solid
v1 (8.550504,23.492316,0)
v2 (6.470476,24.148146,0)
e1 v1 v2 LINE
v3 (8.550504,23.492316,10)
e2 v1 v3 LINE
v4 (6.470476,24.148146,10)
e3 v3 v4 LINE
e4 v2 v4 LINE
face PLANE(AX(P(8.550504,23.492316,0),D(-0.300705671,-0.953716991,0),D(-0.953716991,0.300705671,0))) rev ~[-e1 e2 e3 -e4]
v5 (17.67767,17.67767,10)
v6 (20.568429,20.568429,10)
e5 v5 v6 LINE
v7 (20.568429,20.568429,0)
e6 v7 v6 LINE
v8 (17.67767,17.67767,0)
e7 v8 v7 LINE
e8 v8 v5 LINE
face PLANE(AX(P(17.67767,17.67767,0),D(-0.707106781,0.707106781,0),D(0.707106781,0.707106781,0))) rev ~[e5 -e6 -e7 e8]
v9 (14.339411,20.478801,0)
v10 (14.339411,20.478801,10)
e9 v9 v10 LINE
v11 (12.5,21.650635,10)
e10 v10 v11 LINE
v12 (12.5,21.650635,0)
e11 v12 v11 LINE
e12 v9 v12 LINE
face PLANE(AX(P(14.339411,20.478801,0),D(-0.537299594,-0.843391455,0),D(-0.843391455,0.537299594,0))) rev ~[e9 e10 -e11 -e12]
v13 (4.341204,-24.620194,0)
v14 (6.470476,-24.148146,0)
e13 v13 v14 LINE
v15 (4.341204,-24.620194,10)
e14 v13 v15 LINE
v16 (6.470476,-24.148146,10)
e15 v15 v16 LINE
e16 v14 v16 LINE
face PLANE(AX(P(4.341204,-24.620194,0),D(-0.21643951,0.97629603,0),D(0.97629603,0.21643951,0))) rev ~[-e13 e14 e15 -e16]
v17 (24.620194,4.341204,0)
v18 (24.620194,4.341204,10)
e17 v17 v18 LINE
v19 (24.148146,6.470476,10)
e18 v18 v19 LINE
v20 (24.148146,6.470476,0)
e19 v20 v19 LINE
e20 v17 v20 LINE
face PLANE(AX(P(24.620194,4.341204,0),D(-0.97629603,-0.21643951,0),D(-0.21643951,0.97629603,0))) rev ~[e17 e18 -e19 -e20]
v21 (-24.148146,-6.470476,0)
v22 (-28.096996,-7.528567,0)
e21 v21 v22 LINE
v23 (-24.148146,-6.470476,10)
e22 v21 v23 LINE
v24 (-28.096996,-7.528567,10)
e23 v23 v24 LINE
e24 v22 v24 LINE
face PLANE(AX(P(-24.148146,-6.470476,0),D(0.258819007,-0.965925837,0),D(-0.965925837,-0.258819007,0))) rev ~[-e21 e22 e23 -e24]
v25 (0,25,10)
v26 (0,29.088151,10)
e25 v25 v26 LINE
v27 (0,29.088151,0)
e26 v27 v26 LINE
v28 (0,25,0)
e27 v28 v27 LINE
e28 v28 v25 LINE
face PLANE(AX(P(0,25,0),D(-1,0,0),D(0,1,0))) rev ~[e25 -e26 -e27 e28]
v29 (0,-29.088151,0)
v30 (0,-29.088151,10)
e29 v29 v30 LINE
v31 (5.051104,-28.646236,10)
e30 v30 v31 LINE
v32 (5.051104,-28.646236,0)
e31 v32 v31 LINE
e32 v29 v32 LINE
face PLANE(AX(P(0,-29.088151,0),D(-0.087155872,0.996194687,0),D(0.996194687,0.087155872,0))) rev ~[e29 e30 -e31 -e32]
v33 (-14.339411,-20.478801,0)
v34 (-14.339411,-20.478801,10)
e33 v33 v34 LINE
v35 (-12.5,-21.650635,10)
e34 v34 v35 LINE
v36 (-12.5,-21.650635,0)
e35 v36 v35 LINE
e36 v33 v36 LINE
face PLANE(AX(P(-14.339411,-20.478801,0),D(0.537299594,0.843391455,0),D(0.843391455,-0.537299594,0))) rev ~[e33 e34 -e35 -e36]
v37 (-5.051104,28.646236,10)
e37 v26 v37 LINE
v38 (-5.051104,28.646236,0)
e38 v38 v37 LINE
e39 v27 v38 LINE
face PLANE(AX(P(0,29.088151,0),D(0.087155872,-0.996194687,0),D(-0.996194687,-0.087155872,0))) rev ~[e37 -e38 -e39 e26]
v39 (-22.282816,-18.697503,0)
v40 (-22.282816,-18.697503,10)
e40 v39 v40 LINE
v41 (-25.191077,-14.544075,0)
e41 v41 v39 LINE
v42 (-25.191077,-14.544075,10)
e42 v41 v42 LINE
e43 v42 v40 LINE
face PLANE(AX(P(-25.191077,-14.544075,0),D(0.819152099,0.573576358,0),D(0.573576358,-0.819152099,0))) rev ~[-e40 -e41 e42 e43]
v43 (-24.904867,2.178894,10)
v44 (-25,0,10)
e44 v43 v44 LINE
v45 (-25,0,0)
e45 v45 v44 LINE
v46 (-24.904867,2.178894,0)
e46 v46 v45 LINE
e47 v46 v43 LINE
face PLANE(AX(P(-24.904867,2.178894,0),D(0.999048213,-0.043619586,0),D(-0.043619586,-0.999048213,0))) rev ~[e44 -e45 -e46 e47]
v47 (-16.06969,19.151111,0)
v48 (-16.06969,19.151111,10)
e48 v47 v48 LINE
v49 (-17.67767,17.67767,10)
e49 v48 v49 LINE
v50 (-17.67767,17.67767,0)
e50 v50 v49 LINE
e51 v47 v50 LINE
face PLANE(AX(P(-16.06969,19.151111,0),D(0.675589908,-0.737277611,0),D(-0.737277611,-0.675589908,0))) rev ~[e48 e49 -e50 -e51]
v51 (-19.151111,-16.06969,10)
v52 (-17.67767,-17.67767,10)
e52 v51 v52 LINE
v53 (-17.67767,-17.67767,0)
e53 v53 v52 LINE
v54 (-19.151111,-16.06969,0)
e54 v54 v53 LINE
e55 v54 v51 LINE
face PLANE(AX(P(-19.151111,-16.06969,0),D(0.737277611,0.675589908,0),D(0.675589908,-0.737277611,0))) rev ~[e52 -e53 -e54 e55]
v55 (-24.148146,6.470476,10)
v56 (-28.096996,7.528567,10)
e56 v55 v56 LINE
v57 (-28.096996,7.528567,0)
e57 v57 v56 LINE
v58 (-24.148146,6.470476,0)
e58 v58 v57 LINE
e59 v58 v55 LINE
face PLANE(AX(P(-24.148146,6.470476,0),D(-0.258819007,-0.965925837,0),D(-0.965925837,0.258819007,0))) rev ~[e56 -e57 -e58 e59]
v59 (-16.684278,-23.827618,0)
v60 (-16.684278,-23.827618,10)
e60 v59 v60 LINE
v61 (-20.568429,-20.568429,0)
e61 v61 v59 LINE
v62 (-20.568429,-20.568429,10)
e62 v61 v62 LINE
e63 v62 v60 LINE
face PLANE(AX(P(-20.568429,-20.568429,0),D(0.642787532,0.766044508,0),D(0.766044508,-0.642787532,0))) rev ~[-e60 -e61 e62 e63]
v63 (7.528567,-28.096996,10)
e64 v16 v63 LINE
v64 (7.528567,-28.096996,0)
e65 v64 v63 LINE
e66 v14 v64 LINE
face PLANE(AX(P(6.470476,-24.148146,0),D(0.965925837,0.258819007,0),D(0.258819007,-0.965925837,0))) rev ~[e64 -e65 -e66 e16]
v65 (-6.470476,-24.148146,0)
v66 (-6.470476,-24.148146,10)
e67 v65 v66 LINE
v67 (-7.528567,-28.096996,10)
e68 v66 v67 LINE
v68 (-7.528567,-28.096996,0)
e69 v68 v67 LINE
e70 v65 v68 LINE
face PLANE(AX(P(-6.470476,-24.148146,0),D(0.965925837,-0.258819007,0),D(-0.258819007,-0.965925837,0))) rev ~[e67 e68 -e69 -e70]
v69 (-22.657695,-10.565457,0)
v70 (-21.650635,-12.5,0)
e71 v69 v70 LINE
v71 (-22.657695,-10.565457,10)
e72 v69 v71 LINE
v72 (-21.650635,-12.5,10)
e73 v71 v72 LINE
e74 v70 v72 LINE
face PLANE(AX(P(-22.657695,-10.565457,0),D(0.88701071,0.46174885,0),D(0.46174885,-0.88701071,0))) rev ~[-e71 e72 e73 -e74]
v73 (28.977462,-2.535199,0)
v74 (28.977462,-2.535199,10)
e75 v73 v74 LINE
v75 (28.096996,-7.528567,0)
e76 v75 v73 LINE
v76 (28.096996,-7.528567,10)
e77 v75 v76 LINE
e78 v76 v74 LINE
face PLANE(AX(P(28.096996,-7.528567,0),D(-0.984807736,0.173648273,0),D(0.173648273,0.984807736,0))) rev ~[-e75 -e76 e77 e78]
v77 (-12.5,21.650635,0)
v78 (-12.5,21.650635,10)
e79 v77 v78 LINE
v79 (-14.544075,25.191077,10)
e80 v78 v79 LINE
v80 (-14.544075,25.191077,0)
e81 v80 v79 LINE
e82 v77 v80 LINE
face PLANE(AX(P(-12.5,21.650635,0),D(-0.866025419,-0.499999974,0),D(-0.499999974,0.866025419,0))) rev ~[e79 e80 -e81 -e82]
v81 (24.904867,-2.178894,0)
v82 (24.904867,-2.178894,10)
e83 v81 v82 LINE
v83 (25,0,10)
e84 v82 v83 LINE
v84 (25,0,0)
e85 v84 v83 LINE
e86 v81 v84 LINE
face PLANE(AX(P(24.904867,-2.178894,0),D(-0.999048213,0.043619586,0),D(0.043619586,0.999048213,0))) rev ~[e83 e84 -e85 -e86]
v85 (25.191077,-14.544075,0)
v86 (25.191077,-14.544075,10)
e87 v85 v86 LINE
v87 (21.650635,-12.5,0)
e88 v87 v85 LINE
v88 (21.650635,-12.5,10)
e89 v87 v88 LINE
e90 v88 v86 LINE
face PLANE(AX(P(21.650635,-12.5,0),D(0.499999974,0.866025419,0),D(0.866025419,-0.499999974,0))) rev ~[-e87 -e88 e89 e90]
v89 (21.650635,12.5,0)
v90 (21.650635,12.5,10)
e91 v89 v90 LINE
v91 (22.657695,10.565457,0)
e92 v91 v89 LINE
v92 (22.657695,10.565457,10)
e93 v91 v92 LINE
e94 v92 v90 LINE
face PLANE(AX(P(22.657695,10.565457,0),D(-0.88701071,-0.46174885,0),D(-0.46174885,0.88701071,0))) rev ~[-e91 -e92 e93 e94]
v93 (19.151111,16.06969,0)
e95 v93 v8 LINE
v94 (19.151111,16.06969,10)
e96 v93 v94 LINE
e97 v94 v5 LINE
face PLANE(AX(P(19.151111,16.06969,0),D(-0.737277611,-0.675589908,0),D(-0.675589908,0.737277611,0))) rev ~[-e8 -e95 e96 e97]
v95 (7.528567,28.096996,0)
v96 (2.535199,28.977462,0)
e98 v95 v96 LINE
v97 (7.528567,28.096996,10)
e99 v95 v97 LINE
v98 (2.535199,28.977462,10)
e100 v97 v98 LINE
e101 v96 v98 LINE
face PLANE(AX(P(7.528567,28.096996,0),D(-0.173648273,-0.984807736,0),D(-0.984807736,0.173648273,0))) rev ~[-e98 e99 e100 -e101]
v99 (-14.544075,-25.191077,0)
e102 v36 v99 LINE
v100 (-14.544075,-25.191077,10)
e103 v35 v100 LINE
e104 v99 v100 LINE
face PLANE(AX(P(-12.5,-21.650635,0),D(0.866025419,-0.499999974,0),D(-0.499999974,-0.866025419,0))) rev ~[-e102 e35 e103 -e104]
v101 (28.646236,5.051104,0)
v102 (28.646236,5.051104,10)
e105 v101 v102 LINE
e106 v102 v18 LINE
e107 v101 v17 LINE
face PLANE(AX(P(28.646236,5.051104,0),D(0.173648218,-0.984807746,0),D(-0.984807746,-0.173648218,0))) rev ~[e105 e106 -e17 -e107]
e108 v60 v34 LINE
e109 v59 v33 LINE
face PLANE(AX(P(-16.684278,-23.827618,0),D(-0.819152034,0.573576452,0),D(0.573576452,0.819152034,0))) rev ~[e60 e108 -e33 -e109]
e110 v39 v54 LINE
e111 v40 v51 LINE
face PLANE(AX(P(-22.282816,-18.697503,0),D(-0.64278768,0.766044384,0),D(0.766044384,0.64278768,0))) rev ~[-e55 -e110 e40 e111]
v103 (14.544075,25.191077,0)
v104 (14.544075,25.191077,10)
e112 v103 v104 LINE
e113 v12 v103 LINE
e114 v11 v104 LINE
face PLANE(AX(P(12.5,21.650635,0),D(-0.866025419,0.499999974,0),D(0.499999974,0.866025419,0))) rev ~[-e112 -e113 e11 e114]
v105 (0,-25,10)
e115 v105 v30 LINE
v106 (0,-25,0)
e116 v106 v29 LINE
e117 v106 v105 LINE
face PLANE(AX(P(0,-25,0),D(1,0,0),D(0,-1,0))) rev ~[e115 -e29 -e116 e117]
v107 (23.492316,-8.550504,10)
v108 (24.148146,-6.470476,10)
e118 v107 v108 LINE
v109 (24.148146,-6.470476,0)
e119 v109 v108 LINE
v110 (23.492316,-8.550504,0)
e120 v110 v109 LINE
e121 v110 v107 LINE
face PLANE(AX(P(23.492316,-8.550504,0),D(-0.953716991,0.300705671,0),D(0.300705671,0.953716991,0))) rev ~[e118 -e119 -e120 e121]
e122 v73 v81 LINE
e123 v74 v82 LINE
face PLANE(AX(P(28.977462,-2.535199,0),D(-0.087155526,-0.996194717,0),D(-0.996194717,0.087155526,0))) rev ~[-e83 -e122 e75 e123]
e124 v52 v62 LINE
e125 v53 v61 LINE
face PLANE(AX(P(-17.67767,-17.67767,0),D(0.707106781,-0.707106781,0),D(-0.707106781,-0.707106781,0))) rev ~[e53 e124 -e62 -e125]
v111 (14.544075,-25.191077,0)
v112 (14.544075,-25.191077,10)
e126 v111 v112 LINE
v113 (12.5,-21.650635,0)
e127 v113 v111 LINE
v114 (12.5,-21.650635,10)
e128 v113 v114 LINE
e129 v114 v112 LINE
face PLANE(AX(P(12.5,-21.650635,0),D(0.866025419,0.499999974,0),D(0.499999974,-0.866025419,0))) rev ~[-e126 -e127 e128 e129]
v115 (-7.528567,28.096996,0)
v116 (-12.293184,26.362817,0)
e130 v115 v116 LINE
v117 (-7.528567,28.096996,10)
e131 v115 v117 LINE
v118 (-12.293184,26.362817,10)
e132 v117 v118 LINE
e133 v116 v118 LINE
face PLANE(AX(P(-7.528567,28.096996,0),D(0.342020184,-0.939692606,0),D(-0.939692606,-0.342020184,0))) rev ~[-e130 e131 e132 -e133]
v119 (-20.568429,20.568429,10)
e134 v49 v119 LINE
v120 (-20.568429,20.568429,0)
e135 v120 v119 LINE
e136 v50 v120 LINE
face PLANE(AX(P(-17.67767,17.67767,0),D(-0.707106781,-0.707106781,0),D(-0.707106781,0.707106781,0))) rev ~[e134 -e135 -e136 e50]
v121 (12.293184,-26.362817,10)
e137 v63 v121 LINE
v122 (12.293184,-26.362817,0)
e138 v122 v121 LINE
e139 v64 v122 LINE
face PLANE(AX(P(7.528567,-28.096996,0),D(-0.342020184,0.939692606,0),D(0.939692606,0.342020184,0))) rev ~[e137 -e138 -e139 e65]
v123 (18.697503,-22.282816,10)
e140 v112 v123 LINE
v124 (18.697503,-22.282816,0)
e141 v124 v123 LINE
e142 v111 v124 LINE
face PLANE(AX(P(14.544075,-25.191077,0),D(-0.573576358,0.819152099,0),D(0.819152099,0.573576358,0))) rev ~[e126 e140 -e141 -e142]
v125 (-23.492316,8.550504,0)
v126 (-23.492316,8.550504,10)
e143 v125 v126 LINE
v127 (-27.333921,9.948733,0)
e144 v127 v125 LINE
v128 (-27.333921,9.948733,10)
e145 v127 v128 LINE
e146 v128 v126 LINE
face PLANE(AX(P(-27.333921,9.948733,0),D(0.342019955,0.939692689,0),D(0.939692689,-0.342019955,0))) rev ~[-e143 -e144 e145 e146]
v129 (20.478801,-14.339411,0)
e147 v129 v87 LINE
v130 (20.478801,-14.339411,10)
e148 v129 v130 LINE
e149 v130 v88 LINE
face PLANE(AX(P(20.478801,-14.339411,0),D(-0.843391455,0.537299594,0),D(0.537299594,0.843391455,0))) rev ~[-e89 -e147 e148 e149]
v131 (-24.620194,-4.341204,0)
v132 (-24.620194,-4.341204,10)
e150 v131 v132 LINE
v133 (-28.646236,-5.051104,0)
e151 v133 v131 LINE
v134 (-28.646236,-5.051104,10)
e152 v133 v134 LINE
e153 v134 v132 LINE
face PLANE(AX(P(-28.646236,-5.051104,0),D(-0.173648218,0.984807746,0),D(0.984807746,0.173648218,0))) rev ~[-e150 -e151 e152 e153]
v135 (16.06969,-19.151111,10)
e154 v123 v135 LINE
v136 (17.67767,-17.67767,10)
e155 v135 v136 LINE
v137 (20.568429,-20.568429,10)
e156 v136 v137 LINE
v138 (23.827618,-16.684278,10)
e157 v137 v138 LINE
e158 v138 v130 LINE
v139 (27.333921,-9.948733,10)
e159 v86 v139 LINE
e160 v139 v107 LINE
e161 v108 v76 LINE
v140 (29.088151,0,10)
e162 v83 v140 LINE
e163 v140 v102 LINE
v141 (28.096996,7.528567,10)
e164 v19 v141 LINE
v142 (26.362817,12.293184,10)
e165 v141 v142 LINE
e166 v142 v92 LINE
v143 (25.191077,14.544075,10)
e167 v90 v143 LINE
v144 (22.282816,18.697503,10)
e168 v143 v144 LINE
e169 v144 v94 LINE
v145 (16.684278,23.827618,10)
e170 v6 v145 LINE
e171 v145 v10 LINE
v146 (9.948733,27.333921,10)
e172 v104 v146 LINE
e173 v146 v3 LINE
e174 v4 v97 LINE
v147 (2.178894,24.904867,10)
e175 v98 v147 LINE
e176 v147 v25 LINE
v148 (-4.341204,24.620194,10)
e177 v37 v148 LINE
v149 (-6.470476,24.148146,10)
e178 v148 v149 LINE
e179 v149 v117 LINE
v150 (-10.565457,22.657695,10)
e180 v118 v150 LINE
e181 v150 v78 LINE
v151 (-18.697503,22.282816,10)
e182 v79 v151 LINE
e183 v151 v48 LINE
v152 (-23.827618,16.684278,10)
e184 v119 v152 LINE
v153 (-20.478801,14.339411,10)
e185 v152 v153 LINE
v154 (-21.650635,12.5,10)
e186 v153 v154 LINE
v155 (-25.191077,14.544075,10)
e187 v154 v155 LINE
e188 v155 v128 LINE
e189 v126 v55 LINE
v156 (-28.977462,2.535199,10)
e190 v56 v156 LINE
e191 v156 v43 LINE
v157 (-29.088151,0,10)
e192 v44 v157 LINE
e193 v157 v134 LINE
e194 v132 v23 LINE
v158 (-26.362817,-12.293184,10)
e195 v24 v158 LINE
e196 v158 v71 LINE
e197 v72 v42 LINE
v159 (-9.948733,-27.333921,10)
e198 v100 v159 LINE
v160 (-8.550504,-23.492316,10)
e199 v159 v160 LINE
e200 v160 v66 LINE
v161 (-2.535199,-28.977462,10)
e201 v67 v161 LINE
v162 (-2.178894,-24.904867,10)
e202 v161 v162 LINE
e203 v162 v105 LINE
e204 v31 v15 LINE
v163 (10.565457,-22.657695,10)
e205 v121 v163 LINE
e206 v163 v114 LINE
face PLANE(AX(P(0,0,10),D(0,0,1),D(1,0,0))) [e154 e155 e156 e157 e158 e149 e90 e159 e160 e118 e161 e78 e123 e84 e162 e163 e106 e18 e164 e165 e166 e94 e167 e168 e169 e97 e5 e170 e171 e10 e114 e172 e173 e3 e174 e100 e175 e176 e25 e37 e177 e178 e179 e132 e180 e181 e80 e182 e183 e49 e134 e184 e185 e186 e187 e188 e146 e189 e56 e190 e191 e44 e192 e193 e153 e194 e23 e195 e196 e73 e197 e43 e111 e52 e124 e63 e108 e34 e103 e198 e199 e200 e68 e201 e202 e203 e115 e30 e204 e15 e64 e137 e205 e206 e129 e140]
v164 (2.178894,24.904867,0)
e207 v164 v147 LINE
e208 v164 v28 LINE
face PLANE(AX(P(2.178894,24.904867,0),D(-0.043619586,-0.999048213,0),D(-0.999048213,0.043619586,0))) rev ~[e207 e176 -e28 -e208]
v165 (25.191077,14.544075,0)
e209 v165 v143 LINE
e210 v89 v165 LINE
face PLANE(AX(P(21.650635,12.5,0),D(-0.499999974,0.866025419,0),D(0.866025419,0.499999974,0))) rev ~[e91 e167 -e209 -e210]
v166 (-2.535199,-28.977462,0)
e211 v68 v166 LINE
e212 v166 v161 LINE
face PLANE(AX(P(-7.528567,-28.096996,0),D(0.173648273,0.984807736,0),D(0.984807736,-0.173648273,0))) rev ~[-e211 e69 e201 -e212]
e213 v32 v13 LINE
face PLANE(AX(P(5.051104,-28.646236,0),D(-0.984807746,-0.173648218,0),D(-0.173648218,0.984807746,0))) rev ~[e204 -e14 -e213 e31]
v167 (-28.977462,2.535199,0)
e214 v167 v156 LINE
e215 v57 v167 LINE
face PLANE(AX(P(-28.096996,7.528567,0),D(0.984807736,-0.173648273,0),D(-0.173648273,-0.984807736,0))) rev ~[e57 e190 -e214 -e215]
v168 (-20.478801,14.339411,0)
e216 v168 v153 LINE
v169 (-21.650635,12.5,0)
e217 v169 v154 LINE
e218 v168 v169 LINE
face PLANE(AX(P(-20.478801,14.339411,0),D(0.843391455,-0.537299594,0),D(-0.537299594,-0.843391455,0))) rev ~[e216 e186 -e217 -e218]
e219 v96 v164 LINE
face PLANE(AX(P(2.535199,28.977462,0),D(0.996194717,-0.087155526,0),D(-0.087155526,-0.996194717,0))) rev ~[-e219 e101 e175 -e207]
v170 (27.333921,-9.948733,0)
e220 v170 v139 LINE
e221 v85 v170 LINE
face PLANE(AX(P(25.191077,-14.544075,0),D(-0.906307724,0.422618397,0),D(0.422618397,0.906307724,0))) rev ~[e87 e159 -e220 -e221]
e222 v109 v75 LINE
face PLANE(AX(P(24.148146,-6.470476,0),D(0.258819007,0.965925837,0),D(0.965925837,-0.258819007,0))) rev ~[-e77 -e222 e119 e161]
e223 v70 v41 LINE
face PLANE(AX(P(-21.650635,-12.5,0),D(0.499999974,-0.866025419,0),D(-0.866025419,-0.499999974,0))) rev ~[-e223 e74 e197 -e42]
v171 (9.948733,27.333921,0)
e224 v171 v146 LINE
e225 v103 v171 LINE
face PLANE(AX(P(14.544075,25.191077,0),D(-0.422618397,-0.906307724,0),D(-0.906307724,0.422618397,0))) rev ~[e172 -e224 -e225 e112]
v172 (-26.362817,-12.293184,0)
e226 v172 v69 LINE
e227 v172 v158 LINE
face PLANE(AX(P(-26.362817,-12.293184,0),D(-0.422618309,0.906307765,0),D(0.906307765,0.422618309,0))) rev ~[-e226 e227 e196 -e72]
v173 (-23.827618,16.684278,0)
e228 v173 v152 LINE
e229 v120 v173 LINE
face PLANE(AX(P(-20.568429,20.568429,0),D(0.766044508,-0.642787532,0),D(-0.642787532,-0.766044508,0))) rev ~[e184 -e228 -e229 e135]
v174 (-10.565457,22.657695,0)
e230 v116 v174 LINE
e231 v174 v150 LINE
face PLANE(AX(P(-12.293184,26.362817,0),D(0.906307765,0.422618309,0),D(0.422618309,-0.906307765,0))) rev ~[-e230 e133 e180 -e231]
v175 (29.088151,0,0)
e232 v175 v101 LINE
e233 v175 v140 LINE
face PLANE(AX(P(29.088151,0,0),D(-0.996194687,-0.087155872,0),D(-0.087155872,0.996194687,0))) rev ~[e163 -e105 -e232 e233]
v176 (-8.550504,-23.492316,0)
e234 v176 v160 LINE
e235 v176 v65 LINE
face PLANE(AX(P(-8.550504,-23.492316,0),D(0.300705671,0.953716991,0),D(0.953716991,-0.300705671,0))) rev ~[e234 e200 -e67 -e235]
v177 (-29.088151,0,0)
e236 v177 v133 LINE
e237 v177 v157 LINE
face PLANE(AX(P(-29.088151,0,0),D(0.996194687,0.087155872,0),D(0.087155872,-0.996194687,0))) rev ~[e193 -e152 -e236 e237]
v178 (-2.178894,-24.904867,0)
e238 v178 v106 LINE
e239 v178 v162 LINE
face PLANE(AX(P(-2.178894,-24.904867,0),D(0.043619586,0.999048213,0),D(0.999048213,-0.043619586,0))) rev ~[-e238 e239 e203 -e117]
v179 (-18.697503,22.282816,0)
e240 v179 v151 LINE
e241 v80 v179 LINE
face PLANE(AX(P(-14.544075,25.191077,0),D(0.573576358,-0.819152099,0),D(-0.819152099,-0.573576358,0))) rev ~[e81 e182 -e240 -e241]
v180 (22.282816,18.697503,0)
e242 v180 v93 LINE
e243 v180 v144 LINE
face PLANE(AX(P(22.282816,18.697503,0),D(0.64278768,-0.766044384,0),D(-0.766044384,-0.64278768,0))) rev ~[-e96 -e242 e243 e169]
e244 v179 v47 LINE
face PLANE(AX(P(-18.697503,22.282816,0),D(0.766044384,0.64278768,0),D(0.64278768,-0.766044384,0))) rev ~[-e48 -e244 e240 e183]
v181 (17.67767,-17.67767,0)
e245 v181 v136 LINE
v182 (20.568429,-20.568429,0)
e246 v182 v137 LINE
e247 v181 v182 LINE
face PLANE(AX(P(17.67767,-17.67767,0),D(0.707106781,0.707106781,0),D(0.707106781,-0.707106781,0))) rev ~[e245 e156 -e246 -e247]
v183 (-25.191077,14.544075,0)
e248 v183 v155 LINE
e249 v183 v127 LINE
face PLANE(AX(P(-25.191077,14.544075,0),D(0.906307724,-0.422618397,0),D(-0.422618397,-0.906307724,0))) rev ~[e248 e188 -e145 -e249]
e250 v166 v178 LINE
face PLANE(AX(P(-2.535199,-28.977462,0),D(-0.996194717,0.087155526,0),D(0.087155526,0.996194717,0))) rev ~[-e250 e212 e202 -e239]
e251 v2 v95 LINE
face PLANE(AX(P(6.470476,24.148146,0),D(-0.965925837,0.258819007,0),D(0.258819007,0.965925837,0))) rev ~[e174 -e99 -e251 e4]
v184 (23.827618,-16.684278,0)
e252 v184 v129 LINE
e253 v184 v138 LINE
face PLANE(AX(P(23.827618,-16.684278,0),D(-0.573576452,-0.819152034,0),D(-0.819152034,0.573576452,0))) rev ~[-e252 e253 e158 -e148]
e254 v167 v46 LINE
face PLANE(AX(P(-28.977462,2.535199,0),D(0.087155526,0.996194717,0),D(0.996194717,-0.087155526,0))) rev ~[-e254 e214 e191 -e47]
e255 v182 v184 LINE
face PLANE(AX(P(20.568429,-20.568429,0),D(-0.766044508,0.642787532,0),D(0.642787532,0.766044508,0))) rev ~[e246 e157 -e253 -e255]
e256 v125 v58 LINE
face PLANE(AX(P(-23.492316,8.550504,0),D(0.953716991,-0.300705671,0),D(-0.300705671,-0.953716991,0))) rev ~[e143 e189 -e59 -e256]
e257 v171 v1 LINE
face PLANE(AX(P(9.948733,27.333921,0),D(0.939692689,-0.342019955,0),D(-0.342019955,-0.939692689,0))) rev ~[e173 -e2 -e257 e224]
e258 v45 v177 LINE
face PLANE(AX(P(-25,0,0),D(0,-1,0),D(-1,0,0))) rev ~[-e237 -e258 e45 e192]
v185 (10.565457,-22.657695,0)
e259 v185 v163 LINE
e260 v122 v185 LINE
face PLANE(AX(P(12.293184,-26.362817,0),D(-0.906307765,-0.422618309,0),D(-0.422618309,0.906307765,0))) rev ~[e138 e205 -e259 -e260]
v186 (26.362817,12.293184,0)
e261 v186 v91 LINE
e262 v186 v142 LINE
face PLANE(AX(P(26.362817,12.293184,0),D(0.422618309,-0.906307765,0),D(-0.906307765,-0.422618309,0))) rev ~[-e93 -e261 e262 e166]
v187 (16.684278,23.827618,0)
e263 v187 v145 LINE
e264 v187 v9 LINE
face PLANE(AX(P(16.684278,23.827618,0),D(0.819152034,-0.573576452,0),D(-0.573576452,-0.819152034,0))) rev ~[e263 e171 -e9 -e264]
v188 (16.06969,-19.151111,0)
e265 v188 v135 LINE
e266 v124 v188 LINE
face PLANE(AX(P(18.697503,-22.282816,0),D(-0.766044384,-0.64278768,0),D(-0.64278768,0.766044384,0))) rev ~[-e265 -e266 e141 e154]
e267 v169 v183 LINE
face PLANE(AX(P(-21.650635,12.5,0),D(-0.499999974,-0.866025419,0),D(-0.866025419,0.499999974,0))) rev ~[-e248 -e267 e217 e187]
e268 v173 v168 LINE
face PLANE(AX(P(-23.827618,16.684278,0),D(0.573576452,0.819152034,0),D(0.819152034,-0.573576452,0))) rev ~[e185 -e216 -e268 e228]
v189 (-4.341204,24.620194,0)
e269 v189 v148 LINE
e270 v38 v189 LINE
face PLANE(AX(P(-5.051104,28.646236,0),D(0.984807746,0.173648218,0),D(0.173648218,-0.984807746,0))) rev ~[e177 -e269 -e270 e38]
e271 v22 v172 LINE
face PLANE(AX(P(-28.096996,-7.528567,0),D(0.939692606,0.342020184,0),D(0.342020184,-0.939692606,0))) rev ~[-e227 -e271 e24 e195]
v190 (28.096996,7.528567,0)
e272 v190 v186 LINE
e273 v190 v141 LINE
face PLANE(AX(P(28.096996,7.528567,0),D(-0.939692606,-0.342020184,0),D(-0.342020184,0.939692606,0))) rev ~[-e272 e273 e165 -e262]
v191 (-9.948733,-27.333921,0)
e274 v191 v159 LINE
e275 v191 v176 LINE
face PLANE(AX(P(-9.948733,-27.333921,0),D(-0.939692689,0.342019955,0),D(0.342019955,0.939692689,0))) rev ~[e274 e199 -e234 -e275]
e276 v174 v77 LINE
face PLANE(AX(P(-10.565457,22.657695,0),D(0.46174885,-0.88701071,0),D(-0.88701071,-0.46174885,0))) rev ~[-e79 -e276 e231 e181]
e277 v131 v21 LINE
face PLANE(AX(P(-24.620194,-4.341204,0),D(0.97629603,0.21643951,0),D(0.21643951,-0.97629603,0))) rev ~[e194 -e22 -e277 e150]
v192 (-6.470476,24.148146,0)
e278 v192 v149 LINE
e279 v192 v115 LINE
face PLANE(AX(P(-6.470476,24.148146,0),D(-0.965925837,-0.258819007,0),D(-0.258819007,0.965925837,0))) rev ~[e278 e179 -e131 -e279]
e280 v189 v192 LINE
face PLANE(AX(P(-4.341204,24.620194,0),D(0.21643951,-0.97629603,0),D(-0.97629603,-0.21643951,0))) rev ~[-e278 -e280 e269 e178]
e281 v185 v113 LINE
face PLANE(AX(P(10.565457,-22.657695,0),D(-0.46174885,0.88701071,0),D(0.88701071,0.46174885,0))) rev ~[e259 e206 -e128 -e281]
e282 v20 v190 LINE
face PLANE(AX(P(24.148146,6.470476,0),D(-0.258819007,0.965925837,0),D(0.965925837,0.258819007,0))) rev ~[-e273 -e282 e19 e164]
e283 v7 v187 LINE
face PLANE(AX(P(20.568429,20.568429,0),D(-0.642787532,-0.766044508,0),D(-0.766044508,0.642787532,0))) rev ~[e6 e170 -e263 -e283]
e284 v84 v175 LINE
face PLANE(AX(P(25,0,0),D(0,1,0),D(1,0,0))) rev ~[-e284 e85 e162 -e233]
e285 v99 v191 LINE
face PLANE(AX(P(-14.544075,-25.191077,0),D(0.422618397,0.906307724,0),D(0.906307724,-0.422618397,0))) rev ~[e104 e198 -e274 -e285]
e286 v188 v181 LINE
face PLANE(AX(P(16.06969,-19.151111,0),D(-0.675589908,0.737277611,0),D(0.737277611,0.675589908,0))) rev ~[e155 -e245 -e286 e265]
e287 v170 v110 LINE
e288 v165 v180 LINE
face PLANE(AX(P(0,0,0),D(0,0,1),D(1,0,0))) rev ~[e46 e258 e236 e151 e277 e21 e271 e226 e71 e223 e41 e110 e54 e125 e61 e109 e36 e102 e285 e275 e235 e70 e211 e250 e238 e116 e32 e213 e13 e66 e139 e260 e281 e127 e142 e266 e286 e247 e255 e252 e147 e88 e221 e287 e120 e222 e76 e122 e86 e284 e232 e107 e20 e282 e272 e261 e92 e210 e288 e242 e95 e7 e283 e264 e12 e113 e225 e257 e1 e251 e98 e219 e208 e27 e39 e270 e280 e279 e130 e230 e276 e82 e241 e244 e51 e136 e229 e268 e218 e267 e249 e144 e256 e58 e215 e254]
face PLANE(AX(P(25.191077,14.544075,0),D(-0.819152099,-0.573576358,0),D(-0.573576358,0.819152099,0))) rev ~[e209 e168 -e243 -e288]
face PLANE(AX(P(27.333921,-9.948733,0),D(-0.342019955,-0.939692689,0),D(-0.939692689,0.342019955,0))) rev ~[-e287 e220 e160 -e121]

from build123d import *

# Parameters (mm, degrees)
F1_DEPTH = 10


with BuildPart() as f1:
    # F0 (on Top) → F1 (new body)
    with BuildSketch(Plane.XY):
        Polygon((2.178894, 24.904867), (0, 25), (0, 29.088151), (-5.051104, 28.646236), (-4.341204, 24.620194), (-6.470476, 24.148146), (-7.528567, 28.096996), (-12.293184, 26.362817), (-10.565457, 22.657695), (-12.5, 21.650635), (-14.544075, 25.191077), (-18.697503, 22.282816), (-16.06969, 19.151111), (-17.67767, 17.67767), (-20.568429, 20.568429), (-23.827618, 16.684278), (-20.478801, 14.339411), (-21.650635, 12.5), (-25.191077, 14.544075), (-27.333921, 9.948733), (-23.492316, 8.550504), (-24.148146, 6.470476), (-28.096996, 7.528567), (-28.977462, 2.535199), (-24.904867, 2.178894), (-25, 0), (-29.088151, 0), (-28.646236, -5.051104), (-24.620194, -4.341204), (-24.148146, -6.470476), (-28.096996, -7.528567), (-26.362817, -12.293184), (-22.657695, -10.565457), (-21.650635, -12.5), (-25.191077, -14.544075), (-22.282816, -18.697503), (-19.151111, -16.06969), (-17.67767, -17.67767), (-20.568429, -20.568429), (-16.684278, -23.827618), (-14.339411, -20.478801), (-12.5, -21.650635), (-14.544075, -25.191077), (-9.948733, -27.333921), (-8.550504, -23.492316), (-6.470476, -24.148146), (-7.528567, -28.096996), (-2.535199, -28.977462), (-2.178894, -24.904867), (0, -25), (0, -29.088151), (5.051104, -28.646236), (4.341204, -24.620194), (6.470476, -24.148146), (7.528567, -28.096996), (12.293184, -26.362817), (10.565457, -22.657695), (12.5, -21.650635), (14.544075, -25.191077), (18.697503, -22.282816), (16.06969, -19.151111), (17.67767, -17.67767), (20.568429, -20.568429), (23.827618, -16.684278), (20.478801, -14.339411), (21.650635, -12.5), (25.191077, -14.544075), (27.333921, -9.948733), (23.492316, -8.550504), (24.148146, -6.470476), (28.096996, -7.528567), (28.977462, -2.535199), (24.904867, -2.178894), (25, 0), (29.088151, 0), (28.646236, 5.051104), (24.620194, 4.341204), (24.148146, 6.470476), (28.096996, 7.528567), (26.362817, 12.293184), (22.657695, 10.565457), (21.650635, 12.5), (25.191077, 14.544075), (22.282816, 18.697503), (19.151111, 16.06969), (17.67767, 17.67767), (20.568429, 20.568429), (16.684278, 23.827618), (14.339411, 20.478801), (12.5, 21.650635), (14.544075, 25.191077), (9.948733, 27.333921), (8.550504, 23.492316), (6.470476, 24.148146), (7.528567, 28.096996), (2.535199, 28.977462), align=None)
    extrude(amount=F1_DEPTH)


solid = f1.part
